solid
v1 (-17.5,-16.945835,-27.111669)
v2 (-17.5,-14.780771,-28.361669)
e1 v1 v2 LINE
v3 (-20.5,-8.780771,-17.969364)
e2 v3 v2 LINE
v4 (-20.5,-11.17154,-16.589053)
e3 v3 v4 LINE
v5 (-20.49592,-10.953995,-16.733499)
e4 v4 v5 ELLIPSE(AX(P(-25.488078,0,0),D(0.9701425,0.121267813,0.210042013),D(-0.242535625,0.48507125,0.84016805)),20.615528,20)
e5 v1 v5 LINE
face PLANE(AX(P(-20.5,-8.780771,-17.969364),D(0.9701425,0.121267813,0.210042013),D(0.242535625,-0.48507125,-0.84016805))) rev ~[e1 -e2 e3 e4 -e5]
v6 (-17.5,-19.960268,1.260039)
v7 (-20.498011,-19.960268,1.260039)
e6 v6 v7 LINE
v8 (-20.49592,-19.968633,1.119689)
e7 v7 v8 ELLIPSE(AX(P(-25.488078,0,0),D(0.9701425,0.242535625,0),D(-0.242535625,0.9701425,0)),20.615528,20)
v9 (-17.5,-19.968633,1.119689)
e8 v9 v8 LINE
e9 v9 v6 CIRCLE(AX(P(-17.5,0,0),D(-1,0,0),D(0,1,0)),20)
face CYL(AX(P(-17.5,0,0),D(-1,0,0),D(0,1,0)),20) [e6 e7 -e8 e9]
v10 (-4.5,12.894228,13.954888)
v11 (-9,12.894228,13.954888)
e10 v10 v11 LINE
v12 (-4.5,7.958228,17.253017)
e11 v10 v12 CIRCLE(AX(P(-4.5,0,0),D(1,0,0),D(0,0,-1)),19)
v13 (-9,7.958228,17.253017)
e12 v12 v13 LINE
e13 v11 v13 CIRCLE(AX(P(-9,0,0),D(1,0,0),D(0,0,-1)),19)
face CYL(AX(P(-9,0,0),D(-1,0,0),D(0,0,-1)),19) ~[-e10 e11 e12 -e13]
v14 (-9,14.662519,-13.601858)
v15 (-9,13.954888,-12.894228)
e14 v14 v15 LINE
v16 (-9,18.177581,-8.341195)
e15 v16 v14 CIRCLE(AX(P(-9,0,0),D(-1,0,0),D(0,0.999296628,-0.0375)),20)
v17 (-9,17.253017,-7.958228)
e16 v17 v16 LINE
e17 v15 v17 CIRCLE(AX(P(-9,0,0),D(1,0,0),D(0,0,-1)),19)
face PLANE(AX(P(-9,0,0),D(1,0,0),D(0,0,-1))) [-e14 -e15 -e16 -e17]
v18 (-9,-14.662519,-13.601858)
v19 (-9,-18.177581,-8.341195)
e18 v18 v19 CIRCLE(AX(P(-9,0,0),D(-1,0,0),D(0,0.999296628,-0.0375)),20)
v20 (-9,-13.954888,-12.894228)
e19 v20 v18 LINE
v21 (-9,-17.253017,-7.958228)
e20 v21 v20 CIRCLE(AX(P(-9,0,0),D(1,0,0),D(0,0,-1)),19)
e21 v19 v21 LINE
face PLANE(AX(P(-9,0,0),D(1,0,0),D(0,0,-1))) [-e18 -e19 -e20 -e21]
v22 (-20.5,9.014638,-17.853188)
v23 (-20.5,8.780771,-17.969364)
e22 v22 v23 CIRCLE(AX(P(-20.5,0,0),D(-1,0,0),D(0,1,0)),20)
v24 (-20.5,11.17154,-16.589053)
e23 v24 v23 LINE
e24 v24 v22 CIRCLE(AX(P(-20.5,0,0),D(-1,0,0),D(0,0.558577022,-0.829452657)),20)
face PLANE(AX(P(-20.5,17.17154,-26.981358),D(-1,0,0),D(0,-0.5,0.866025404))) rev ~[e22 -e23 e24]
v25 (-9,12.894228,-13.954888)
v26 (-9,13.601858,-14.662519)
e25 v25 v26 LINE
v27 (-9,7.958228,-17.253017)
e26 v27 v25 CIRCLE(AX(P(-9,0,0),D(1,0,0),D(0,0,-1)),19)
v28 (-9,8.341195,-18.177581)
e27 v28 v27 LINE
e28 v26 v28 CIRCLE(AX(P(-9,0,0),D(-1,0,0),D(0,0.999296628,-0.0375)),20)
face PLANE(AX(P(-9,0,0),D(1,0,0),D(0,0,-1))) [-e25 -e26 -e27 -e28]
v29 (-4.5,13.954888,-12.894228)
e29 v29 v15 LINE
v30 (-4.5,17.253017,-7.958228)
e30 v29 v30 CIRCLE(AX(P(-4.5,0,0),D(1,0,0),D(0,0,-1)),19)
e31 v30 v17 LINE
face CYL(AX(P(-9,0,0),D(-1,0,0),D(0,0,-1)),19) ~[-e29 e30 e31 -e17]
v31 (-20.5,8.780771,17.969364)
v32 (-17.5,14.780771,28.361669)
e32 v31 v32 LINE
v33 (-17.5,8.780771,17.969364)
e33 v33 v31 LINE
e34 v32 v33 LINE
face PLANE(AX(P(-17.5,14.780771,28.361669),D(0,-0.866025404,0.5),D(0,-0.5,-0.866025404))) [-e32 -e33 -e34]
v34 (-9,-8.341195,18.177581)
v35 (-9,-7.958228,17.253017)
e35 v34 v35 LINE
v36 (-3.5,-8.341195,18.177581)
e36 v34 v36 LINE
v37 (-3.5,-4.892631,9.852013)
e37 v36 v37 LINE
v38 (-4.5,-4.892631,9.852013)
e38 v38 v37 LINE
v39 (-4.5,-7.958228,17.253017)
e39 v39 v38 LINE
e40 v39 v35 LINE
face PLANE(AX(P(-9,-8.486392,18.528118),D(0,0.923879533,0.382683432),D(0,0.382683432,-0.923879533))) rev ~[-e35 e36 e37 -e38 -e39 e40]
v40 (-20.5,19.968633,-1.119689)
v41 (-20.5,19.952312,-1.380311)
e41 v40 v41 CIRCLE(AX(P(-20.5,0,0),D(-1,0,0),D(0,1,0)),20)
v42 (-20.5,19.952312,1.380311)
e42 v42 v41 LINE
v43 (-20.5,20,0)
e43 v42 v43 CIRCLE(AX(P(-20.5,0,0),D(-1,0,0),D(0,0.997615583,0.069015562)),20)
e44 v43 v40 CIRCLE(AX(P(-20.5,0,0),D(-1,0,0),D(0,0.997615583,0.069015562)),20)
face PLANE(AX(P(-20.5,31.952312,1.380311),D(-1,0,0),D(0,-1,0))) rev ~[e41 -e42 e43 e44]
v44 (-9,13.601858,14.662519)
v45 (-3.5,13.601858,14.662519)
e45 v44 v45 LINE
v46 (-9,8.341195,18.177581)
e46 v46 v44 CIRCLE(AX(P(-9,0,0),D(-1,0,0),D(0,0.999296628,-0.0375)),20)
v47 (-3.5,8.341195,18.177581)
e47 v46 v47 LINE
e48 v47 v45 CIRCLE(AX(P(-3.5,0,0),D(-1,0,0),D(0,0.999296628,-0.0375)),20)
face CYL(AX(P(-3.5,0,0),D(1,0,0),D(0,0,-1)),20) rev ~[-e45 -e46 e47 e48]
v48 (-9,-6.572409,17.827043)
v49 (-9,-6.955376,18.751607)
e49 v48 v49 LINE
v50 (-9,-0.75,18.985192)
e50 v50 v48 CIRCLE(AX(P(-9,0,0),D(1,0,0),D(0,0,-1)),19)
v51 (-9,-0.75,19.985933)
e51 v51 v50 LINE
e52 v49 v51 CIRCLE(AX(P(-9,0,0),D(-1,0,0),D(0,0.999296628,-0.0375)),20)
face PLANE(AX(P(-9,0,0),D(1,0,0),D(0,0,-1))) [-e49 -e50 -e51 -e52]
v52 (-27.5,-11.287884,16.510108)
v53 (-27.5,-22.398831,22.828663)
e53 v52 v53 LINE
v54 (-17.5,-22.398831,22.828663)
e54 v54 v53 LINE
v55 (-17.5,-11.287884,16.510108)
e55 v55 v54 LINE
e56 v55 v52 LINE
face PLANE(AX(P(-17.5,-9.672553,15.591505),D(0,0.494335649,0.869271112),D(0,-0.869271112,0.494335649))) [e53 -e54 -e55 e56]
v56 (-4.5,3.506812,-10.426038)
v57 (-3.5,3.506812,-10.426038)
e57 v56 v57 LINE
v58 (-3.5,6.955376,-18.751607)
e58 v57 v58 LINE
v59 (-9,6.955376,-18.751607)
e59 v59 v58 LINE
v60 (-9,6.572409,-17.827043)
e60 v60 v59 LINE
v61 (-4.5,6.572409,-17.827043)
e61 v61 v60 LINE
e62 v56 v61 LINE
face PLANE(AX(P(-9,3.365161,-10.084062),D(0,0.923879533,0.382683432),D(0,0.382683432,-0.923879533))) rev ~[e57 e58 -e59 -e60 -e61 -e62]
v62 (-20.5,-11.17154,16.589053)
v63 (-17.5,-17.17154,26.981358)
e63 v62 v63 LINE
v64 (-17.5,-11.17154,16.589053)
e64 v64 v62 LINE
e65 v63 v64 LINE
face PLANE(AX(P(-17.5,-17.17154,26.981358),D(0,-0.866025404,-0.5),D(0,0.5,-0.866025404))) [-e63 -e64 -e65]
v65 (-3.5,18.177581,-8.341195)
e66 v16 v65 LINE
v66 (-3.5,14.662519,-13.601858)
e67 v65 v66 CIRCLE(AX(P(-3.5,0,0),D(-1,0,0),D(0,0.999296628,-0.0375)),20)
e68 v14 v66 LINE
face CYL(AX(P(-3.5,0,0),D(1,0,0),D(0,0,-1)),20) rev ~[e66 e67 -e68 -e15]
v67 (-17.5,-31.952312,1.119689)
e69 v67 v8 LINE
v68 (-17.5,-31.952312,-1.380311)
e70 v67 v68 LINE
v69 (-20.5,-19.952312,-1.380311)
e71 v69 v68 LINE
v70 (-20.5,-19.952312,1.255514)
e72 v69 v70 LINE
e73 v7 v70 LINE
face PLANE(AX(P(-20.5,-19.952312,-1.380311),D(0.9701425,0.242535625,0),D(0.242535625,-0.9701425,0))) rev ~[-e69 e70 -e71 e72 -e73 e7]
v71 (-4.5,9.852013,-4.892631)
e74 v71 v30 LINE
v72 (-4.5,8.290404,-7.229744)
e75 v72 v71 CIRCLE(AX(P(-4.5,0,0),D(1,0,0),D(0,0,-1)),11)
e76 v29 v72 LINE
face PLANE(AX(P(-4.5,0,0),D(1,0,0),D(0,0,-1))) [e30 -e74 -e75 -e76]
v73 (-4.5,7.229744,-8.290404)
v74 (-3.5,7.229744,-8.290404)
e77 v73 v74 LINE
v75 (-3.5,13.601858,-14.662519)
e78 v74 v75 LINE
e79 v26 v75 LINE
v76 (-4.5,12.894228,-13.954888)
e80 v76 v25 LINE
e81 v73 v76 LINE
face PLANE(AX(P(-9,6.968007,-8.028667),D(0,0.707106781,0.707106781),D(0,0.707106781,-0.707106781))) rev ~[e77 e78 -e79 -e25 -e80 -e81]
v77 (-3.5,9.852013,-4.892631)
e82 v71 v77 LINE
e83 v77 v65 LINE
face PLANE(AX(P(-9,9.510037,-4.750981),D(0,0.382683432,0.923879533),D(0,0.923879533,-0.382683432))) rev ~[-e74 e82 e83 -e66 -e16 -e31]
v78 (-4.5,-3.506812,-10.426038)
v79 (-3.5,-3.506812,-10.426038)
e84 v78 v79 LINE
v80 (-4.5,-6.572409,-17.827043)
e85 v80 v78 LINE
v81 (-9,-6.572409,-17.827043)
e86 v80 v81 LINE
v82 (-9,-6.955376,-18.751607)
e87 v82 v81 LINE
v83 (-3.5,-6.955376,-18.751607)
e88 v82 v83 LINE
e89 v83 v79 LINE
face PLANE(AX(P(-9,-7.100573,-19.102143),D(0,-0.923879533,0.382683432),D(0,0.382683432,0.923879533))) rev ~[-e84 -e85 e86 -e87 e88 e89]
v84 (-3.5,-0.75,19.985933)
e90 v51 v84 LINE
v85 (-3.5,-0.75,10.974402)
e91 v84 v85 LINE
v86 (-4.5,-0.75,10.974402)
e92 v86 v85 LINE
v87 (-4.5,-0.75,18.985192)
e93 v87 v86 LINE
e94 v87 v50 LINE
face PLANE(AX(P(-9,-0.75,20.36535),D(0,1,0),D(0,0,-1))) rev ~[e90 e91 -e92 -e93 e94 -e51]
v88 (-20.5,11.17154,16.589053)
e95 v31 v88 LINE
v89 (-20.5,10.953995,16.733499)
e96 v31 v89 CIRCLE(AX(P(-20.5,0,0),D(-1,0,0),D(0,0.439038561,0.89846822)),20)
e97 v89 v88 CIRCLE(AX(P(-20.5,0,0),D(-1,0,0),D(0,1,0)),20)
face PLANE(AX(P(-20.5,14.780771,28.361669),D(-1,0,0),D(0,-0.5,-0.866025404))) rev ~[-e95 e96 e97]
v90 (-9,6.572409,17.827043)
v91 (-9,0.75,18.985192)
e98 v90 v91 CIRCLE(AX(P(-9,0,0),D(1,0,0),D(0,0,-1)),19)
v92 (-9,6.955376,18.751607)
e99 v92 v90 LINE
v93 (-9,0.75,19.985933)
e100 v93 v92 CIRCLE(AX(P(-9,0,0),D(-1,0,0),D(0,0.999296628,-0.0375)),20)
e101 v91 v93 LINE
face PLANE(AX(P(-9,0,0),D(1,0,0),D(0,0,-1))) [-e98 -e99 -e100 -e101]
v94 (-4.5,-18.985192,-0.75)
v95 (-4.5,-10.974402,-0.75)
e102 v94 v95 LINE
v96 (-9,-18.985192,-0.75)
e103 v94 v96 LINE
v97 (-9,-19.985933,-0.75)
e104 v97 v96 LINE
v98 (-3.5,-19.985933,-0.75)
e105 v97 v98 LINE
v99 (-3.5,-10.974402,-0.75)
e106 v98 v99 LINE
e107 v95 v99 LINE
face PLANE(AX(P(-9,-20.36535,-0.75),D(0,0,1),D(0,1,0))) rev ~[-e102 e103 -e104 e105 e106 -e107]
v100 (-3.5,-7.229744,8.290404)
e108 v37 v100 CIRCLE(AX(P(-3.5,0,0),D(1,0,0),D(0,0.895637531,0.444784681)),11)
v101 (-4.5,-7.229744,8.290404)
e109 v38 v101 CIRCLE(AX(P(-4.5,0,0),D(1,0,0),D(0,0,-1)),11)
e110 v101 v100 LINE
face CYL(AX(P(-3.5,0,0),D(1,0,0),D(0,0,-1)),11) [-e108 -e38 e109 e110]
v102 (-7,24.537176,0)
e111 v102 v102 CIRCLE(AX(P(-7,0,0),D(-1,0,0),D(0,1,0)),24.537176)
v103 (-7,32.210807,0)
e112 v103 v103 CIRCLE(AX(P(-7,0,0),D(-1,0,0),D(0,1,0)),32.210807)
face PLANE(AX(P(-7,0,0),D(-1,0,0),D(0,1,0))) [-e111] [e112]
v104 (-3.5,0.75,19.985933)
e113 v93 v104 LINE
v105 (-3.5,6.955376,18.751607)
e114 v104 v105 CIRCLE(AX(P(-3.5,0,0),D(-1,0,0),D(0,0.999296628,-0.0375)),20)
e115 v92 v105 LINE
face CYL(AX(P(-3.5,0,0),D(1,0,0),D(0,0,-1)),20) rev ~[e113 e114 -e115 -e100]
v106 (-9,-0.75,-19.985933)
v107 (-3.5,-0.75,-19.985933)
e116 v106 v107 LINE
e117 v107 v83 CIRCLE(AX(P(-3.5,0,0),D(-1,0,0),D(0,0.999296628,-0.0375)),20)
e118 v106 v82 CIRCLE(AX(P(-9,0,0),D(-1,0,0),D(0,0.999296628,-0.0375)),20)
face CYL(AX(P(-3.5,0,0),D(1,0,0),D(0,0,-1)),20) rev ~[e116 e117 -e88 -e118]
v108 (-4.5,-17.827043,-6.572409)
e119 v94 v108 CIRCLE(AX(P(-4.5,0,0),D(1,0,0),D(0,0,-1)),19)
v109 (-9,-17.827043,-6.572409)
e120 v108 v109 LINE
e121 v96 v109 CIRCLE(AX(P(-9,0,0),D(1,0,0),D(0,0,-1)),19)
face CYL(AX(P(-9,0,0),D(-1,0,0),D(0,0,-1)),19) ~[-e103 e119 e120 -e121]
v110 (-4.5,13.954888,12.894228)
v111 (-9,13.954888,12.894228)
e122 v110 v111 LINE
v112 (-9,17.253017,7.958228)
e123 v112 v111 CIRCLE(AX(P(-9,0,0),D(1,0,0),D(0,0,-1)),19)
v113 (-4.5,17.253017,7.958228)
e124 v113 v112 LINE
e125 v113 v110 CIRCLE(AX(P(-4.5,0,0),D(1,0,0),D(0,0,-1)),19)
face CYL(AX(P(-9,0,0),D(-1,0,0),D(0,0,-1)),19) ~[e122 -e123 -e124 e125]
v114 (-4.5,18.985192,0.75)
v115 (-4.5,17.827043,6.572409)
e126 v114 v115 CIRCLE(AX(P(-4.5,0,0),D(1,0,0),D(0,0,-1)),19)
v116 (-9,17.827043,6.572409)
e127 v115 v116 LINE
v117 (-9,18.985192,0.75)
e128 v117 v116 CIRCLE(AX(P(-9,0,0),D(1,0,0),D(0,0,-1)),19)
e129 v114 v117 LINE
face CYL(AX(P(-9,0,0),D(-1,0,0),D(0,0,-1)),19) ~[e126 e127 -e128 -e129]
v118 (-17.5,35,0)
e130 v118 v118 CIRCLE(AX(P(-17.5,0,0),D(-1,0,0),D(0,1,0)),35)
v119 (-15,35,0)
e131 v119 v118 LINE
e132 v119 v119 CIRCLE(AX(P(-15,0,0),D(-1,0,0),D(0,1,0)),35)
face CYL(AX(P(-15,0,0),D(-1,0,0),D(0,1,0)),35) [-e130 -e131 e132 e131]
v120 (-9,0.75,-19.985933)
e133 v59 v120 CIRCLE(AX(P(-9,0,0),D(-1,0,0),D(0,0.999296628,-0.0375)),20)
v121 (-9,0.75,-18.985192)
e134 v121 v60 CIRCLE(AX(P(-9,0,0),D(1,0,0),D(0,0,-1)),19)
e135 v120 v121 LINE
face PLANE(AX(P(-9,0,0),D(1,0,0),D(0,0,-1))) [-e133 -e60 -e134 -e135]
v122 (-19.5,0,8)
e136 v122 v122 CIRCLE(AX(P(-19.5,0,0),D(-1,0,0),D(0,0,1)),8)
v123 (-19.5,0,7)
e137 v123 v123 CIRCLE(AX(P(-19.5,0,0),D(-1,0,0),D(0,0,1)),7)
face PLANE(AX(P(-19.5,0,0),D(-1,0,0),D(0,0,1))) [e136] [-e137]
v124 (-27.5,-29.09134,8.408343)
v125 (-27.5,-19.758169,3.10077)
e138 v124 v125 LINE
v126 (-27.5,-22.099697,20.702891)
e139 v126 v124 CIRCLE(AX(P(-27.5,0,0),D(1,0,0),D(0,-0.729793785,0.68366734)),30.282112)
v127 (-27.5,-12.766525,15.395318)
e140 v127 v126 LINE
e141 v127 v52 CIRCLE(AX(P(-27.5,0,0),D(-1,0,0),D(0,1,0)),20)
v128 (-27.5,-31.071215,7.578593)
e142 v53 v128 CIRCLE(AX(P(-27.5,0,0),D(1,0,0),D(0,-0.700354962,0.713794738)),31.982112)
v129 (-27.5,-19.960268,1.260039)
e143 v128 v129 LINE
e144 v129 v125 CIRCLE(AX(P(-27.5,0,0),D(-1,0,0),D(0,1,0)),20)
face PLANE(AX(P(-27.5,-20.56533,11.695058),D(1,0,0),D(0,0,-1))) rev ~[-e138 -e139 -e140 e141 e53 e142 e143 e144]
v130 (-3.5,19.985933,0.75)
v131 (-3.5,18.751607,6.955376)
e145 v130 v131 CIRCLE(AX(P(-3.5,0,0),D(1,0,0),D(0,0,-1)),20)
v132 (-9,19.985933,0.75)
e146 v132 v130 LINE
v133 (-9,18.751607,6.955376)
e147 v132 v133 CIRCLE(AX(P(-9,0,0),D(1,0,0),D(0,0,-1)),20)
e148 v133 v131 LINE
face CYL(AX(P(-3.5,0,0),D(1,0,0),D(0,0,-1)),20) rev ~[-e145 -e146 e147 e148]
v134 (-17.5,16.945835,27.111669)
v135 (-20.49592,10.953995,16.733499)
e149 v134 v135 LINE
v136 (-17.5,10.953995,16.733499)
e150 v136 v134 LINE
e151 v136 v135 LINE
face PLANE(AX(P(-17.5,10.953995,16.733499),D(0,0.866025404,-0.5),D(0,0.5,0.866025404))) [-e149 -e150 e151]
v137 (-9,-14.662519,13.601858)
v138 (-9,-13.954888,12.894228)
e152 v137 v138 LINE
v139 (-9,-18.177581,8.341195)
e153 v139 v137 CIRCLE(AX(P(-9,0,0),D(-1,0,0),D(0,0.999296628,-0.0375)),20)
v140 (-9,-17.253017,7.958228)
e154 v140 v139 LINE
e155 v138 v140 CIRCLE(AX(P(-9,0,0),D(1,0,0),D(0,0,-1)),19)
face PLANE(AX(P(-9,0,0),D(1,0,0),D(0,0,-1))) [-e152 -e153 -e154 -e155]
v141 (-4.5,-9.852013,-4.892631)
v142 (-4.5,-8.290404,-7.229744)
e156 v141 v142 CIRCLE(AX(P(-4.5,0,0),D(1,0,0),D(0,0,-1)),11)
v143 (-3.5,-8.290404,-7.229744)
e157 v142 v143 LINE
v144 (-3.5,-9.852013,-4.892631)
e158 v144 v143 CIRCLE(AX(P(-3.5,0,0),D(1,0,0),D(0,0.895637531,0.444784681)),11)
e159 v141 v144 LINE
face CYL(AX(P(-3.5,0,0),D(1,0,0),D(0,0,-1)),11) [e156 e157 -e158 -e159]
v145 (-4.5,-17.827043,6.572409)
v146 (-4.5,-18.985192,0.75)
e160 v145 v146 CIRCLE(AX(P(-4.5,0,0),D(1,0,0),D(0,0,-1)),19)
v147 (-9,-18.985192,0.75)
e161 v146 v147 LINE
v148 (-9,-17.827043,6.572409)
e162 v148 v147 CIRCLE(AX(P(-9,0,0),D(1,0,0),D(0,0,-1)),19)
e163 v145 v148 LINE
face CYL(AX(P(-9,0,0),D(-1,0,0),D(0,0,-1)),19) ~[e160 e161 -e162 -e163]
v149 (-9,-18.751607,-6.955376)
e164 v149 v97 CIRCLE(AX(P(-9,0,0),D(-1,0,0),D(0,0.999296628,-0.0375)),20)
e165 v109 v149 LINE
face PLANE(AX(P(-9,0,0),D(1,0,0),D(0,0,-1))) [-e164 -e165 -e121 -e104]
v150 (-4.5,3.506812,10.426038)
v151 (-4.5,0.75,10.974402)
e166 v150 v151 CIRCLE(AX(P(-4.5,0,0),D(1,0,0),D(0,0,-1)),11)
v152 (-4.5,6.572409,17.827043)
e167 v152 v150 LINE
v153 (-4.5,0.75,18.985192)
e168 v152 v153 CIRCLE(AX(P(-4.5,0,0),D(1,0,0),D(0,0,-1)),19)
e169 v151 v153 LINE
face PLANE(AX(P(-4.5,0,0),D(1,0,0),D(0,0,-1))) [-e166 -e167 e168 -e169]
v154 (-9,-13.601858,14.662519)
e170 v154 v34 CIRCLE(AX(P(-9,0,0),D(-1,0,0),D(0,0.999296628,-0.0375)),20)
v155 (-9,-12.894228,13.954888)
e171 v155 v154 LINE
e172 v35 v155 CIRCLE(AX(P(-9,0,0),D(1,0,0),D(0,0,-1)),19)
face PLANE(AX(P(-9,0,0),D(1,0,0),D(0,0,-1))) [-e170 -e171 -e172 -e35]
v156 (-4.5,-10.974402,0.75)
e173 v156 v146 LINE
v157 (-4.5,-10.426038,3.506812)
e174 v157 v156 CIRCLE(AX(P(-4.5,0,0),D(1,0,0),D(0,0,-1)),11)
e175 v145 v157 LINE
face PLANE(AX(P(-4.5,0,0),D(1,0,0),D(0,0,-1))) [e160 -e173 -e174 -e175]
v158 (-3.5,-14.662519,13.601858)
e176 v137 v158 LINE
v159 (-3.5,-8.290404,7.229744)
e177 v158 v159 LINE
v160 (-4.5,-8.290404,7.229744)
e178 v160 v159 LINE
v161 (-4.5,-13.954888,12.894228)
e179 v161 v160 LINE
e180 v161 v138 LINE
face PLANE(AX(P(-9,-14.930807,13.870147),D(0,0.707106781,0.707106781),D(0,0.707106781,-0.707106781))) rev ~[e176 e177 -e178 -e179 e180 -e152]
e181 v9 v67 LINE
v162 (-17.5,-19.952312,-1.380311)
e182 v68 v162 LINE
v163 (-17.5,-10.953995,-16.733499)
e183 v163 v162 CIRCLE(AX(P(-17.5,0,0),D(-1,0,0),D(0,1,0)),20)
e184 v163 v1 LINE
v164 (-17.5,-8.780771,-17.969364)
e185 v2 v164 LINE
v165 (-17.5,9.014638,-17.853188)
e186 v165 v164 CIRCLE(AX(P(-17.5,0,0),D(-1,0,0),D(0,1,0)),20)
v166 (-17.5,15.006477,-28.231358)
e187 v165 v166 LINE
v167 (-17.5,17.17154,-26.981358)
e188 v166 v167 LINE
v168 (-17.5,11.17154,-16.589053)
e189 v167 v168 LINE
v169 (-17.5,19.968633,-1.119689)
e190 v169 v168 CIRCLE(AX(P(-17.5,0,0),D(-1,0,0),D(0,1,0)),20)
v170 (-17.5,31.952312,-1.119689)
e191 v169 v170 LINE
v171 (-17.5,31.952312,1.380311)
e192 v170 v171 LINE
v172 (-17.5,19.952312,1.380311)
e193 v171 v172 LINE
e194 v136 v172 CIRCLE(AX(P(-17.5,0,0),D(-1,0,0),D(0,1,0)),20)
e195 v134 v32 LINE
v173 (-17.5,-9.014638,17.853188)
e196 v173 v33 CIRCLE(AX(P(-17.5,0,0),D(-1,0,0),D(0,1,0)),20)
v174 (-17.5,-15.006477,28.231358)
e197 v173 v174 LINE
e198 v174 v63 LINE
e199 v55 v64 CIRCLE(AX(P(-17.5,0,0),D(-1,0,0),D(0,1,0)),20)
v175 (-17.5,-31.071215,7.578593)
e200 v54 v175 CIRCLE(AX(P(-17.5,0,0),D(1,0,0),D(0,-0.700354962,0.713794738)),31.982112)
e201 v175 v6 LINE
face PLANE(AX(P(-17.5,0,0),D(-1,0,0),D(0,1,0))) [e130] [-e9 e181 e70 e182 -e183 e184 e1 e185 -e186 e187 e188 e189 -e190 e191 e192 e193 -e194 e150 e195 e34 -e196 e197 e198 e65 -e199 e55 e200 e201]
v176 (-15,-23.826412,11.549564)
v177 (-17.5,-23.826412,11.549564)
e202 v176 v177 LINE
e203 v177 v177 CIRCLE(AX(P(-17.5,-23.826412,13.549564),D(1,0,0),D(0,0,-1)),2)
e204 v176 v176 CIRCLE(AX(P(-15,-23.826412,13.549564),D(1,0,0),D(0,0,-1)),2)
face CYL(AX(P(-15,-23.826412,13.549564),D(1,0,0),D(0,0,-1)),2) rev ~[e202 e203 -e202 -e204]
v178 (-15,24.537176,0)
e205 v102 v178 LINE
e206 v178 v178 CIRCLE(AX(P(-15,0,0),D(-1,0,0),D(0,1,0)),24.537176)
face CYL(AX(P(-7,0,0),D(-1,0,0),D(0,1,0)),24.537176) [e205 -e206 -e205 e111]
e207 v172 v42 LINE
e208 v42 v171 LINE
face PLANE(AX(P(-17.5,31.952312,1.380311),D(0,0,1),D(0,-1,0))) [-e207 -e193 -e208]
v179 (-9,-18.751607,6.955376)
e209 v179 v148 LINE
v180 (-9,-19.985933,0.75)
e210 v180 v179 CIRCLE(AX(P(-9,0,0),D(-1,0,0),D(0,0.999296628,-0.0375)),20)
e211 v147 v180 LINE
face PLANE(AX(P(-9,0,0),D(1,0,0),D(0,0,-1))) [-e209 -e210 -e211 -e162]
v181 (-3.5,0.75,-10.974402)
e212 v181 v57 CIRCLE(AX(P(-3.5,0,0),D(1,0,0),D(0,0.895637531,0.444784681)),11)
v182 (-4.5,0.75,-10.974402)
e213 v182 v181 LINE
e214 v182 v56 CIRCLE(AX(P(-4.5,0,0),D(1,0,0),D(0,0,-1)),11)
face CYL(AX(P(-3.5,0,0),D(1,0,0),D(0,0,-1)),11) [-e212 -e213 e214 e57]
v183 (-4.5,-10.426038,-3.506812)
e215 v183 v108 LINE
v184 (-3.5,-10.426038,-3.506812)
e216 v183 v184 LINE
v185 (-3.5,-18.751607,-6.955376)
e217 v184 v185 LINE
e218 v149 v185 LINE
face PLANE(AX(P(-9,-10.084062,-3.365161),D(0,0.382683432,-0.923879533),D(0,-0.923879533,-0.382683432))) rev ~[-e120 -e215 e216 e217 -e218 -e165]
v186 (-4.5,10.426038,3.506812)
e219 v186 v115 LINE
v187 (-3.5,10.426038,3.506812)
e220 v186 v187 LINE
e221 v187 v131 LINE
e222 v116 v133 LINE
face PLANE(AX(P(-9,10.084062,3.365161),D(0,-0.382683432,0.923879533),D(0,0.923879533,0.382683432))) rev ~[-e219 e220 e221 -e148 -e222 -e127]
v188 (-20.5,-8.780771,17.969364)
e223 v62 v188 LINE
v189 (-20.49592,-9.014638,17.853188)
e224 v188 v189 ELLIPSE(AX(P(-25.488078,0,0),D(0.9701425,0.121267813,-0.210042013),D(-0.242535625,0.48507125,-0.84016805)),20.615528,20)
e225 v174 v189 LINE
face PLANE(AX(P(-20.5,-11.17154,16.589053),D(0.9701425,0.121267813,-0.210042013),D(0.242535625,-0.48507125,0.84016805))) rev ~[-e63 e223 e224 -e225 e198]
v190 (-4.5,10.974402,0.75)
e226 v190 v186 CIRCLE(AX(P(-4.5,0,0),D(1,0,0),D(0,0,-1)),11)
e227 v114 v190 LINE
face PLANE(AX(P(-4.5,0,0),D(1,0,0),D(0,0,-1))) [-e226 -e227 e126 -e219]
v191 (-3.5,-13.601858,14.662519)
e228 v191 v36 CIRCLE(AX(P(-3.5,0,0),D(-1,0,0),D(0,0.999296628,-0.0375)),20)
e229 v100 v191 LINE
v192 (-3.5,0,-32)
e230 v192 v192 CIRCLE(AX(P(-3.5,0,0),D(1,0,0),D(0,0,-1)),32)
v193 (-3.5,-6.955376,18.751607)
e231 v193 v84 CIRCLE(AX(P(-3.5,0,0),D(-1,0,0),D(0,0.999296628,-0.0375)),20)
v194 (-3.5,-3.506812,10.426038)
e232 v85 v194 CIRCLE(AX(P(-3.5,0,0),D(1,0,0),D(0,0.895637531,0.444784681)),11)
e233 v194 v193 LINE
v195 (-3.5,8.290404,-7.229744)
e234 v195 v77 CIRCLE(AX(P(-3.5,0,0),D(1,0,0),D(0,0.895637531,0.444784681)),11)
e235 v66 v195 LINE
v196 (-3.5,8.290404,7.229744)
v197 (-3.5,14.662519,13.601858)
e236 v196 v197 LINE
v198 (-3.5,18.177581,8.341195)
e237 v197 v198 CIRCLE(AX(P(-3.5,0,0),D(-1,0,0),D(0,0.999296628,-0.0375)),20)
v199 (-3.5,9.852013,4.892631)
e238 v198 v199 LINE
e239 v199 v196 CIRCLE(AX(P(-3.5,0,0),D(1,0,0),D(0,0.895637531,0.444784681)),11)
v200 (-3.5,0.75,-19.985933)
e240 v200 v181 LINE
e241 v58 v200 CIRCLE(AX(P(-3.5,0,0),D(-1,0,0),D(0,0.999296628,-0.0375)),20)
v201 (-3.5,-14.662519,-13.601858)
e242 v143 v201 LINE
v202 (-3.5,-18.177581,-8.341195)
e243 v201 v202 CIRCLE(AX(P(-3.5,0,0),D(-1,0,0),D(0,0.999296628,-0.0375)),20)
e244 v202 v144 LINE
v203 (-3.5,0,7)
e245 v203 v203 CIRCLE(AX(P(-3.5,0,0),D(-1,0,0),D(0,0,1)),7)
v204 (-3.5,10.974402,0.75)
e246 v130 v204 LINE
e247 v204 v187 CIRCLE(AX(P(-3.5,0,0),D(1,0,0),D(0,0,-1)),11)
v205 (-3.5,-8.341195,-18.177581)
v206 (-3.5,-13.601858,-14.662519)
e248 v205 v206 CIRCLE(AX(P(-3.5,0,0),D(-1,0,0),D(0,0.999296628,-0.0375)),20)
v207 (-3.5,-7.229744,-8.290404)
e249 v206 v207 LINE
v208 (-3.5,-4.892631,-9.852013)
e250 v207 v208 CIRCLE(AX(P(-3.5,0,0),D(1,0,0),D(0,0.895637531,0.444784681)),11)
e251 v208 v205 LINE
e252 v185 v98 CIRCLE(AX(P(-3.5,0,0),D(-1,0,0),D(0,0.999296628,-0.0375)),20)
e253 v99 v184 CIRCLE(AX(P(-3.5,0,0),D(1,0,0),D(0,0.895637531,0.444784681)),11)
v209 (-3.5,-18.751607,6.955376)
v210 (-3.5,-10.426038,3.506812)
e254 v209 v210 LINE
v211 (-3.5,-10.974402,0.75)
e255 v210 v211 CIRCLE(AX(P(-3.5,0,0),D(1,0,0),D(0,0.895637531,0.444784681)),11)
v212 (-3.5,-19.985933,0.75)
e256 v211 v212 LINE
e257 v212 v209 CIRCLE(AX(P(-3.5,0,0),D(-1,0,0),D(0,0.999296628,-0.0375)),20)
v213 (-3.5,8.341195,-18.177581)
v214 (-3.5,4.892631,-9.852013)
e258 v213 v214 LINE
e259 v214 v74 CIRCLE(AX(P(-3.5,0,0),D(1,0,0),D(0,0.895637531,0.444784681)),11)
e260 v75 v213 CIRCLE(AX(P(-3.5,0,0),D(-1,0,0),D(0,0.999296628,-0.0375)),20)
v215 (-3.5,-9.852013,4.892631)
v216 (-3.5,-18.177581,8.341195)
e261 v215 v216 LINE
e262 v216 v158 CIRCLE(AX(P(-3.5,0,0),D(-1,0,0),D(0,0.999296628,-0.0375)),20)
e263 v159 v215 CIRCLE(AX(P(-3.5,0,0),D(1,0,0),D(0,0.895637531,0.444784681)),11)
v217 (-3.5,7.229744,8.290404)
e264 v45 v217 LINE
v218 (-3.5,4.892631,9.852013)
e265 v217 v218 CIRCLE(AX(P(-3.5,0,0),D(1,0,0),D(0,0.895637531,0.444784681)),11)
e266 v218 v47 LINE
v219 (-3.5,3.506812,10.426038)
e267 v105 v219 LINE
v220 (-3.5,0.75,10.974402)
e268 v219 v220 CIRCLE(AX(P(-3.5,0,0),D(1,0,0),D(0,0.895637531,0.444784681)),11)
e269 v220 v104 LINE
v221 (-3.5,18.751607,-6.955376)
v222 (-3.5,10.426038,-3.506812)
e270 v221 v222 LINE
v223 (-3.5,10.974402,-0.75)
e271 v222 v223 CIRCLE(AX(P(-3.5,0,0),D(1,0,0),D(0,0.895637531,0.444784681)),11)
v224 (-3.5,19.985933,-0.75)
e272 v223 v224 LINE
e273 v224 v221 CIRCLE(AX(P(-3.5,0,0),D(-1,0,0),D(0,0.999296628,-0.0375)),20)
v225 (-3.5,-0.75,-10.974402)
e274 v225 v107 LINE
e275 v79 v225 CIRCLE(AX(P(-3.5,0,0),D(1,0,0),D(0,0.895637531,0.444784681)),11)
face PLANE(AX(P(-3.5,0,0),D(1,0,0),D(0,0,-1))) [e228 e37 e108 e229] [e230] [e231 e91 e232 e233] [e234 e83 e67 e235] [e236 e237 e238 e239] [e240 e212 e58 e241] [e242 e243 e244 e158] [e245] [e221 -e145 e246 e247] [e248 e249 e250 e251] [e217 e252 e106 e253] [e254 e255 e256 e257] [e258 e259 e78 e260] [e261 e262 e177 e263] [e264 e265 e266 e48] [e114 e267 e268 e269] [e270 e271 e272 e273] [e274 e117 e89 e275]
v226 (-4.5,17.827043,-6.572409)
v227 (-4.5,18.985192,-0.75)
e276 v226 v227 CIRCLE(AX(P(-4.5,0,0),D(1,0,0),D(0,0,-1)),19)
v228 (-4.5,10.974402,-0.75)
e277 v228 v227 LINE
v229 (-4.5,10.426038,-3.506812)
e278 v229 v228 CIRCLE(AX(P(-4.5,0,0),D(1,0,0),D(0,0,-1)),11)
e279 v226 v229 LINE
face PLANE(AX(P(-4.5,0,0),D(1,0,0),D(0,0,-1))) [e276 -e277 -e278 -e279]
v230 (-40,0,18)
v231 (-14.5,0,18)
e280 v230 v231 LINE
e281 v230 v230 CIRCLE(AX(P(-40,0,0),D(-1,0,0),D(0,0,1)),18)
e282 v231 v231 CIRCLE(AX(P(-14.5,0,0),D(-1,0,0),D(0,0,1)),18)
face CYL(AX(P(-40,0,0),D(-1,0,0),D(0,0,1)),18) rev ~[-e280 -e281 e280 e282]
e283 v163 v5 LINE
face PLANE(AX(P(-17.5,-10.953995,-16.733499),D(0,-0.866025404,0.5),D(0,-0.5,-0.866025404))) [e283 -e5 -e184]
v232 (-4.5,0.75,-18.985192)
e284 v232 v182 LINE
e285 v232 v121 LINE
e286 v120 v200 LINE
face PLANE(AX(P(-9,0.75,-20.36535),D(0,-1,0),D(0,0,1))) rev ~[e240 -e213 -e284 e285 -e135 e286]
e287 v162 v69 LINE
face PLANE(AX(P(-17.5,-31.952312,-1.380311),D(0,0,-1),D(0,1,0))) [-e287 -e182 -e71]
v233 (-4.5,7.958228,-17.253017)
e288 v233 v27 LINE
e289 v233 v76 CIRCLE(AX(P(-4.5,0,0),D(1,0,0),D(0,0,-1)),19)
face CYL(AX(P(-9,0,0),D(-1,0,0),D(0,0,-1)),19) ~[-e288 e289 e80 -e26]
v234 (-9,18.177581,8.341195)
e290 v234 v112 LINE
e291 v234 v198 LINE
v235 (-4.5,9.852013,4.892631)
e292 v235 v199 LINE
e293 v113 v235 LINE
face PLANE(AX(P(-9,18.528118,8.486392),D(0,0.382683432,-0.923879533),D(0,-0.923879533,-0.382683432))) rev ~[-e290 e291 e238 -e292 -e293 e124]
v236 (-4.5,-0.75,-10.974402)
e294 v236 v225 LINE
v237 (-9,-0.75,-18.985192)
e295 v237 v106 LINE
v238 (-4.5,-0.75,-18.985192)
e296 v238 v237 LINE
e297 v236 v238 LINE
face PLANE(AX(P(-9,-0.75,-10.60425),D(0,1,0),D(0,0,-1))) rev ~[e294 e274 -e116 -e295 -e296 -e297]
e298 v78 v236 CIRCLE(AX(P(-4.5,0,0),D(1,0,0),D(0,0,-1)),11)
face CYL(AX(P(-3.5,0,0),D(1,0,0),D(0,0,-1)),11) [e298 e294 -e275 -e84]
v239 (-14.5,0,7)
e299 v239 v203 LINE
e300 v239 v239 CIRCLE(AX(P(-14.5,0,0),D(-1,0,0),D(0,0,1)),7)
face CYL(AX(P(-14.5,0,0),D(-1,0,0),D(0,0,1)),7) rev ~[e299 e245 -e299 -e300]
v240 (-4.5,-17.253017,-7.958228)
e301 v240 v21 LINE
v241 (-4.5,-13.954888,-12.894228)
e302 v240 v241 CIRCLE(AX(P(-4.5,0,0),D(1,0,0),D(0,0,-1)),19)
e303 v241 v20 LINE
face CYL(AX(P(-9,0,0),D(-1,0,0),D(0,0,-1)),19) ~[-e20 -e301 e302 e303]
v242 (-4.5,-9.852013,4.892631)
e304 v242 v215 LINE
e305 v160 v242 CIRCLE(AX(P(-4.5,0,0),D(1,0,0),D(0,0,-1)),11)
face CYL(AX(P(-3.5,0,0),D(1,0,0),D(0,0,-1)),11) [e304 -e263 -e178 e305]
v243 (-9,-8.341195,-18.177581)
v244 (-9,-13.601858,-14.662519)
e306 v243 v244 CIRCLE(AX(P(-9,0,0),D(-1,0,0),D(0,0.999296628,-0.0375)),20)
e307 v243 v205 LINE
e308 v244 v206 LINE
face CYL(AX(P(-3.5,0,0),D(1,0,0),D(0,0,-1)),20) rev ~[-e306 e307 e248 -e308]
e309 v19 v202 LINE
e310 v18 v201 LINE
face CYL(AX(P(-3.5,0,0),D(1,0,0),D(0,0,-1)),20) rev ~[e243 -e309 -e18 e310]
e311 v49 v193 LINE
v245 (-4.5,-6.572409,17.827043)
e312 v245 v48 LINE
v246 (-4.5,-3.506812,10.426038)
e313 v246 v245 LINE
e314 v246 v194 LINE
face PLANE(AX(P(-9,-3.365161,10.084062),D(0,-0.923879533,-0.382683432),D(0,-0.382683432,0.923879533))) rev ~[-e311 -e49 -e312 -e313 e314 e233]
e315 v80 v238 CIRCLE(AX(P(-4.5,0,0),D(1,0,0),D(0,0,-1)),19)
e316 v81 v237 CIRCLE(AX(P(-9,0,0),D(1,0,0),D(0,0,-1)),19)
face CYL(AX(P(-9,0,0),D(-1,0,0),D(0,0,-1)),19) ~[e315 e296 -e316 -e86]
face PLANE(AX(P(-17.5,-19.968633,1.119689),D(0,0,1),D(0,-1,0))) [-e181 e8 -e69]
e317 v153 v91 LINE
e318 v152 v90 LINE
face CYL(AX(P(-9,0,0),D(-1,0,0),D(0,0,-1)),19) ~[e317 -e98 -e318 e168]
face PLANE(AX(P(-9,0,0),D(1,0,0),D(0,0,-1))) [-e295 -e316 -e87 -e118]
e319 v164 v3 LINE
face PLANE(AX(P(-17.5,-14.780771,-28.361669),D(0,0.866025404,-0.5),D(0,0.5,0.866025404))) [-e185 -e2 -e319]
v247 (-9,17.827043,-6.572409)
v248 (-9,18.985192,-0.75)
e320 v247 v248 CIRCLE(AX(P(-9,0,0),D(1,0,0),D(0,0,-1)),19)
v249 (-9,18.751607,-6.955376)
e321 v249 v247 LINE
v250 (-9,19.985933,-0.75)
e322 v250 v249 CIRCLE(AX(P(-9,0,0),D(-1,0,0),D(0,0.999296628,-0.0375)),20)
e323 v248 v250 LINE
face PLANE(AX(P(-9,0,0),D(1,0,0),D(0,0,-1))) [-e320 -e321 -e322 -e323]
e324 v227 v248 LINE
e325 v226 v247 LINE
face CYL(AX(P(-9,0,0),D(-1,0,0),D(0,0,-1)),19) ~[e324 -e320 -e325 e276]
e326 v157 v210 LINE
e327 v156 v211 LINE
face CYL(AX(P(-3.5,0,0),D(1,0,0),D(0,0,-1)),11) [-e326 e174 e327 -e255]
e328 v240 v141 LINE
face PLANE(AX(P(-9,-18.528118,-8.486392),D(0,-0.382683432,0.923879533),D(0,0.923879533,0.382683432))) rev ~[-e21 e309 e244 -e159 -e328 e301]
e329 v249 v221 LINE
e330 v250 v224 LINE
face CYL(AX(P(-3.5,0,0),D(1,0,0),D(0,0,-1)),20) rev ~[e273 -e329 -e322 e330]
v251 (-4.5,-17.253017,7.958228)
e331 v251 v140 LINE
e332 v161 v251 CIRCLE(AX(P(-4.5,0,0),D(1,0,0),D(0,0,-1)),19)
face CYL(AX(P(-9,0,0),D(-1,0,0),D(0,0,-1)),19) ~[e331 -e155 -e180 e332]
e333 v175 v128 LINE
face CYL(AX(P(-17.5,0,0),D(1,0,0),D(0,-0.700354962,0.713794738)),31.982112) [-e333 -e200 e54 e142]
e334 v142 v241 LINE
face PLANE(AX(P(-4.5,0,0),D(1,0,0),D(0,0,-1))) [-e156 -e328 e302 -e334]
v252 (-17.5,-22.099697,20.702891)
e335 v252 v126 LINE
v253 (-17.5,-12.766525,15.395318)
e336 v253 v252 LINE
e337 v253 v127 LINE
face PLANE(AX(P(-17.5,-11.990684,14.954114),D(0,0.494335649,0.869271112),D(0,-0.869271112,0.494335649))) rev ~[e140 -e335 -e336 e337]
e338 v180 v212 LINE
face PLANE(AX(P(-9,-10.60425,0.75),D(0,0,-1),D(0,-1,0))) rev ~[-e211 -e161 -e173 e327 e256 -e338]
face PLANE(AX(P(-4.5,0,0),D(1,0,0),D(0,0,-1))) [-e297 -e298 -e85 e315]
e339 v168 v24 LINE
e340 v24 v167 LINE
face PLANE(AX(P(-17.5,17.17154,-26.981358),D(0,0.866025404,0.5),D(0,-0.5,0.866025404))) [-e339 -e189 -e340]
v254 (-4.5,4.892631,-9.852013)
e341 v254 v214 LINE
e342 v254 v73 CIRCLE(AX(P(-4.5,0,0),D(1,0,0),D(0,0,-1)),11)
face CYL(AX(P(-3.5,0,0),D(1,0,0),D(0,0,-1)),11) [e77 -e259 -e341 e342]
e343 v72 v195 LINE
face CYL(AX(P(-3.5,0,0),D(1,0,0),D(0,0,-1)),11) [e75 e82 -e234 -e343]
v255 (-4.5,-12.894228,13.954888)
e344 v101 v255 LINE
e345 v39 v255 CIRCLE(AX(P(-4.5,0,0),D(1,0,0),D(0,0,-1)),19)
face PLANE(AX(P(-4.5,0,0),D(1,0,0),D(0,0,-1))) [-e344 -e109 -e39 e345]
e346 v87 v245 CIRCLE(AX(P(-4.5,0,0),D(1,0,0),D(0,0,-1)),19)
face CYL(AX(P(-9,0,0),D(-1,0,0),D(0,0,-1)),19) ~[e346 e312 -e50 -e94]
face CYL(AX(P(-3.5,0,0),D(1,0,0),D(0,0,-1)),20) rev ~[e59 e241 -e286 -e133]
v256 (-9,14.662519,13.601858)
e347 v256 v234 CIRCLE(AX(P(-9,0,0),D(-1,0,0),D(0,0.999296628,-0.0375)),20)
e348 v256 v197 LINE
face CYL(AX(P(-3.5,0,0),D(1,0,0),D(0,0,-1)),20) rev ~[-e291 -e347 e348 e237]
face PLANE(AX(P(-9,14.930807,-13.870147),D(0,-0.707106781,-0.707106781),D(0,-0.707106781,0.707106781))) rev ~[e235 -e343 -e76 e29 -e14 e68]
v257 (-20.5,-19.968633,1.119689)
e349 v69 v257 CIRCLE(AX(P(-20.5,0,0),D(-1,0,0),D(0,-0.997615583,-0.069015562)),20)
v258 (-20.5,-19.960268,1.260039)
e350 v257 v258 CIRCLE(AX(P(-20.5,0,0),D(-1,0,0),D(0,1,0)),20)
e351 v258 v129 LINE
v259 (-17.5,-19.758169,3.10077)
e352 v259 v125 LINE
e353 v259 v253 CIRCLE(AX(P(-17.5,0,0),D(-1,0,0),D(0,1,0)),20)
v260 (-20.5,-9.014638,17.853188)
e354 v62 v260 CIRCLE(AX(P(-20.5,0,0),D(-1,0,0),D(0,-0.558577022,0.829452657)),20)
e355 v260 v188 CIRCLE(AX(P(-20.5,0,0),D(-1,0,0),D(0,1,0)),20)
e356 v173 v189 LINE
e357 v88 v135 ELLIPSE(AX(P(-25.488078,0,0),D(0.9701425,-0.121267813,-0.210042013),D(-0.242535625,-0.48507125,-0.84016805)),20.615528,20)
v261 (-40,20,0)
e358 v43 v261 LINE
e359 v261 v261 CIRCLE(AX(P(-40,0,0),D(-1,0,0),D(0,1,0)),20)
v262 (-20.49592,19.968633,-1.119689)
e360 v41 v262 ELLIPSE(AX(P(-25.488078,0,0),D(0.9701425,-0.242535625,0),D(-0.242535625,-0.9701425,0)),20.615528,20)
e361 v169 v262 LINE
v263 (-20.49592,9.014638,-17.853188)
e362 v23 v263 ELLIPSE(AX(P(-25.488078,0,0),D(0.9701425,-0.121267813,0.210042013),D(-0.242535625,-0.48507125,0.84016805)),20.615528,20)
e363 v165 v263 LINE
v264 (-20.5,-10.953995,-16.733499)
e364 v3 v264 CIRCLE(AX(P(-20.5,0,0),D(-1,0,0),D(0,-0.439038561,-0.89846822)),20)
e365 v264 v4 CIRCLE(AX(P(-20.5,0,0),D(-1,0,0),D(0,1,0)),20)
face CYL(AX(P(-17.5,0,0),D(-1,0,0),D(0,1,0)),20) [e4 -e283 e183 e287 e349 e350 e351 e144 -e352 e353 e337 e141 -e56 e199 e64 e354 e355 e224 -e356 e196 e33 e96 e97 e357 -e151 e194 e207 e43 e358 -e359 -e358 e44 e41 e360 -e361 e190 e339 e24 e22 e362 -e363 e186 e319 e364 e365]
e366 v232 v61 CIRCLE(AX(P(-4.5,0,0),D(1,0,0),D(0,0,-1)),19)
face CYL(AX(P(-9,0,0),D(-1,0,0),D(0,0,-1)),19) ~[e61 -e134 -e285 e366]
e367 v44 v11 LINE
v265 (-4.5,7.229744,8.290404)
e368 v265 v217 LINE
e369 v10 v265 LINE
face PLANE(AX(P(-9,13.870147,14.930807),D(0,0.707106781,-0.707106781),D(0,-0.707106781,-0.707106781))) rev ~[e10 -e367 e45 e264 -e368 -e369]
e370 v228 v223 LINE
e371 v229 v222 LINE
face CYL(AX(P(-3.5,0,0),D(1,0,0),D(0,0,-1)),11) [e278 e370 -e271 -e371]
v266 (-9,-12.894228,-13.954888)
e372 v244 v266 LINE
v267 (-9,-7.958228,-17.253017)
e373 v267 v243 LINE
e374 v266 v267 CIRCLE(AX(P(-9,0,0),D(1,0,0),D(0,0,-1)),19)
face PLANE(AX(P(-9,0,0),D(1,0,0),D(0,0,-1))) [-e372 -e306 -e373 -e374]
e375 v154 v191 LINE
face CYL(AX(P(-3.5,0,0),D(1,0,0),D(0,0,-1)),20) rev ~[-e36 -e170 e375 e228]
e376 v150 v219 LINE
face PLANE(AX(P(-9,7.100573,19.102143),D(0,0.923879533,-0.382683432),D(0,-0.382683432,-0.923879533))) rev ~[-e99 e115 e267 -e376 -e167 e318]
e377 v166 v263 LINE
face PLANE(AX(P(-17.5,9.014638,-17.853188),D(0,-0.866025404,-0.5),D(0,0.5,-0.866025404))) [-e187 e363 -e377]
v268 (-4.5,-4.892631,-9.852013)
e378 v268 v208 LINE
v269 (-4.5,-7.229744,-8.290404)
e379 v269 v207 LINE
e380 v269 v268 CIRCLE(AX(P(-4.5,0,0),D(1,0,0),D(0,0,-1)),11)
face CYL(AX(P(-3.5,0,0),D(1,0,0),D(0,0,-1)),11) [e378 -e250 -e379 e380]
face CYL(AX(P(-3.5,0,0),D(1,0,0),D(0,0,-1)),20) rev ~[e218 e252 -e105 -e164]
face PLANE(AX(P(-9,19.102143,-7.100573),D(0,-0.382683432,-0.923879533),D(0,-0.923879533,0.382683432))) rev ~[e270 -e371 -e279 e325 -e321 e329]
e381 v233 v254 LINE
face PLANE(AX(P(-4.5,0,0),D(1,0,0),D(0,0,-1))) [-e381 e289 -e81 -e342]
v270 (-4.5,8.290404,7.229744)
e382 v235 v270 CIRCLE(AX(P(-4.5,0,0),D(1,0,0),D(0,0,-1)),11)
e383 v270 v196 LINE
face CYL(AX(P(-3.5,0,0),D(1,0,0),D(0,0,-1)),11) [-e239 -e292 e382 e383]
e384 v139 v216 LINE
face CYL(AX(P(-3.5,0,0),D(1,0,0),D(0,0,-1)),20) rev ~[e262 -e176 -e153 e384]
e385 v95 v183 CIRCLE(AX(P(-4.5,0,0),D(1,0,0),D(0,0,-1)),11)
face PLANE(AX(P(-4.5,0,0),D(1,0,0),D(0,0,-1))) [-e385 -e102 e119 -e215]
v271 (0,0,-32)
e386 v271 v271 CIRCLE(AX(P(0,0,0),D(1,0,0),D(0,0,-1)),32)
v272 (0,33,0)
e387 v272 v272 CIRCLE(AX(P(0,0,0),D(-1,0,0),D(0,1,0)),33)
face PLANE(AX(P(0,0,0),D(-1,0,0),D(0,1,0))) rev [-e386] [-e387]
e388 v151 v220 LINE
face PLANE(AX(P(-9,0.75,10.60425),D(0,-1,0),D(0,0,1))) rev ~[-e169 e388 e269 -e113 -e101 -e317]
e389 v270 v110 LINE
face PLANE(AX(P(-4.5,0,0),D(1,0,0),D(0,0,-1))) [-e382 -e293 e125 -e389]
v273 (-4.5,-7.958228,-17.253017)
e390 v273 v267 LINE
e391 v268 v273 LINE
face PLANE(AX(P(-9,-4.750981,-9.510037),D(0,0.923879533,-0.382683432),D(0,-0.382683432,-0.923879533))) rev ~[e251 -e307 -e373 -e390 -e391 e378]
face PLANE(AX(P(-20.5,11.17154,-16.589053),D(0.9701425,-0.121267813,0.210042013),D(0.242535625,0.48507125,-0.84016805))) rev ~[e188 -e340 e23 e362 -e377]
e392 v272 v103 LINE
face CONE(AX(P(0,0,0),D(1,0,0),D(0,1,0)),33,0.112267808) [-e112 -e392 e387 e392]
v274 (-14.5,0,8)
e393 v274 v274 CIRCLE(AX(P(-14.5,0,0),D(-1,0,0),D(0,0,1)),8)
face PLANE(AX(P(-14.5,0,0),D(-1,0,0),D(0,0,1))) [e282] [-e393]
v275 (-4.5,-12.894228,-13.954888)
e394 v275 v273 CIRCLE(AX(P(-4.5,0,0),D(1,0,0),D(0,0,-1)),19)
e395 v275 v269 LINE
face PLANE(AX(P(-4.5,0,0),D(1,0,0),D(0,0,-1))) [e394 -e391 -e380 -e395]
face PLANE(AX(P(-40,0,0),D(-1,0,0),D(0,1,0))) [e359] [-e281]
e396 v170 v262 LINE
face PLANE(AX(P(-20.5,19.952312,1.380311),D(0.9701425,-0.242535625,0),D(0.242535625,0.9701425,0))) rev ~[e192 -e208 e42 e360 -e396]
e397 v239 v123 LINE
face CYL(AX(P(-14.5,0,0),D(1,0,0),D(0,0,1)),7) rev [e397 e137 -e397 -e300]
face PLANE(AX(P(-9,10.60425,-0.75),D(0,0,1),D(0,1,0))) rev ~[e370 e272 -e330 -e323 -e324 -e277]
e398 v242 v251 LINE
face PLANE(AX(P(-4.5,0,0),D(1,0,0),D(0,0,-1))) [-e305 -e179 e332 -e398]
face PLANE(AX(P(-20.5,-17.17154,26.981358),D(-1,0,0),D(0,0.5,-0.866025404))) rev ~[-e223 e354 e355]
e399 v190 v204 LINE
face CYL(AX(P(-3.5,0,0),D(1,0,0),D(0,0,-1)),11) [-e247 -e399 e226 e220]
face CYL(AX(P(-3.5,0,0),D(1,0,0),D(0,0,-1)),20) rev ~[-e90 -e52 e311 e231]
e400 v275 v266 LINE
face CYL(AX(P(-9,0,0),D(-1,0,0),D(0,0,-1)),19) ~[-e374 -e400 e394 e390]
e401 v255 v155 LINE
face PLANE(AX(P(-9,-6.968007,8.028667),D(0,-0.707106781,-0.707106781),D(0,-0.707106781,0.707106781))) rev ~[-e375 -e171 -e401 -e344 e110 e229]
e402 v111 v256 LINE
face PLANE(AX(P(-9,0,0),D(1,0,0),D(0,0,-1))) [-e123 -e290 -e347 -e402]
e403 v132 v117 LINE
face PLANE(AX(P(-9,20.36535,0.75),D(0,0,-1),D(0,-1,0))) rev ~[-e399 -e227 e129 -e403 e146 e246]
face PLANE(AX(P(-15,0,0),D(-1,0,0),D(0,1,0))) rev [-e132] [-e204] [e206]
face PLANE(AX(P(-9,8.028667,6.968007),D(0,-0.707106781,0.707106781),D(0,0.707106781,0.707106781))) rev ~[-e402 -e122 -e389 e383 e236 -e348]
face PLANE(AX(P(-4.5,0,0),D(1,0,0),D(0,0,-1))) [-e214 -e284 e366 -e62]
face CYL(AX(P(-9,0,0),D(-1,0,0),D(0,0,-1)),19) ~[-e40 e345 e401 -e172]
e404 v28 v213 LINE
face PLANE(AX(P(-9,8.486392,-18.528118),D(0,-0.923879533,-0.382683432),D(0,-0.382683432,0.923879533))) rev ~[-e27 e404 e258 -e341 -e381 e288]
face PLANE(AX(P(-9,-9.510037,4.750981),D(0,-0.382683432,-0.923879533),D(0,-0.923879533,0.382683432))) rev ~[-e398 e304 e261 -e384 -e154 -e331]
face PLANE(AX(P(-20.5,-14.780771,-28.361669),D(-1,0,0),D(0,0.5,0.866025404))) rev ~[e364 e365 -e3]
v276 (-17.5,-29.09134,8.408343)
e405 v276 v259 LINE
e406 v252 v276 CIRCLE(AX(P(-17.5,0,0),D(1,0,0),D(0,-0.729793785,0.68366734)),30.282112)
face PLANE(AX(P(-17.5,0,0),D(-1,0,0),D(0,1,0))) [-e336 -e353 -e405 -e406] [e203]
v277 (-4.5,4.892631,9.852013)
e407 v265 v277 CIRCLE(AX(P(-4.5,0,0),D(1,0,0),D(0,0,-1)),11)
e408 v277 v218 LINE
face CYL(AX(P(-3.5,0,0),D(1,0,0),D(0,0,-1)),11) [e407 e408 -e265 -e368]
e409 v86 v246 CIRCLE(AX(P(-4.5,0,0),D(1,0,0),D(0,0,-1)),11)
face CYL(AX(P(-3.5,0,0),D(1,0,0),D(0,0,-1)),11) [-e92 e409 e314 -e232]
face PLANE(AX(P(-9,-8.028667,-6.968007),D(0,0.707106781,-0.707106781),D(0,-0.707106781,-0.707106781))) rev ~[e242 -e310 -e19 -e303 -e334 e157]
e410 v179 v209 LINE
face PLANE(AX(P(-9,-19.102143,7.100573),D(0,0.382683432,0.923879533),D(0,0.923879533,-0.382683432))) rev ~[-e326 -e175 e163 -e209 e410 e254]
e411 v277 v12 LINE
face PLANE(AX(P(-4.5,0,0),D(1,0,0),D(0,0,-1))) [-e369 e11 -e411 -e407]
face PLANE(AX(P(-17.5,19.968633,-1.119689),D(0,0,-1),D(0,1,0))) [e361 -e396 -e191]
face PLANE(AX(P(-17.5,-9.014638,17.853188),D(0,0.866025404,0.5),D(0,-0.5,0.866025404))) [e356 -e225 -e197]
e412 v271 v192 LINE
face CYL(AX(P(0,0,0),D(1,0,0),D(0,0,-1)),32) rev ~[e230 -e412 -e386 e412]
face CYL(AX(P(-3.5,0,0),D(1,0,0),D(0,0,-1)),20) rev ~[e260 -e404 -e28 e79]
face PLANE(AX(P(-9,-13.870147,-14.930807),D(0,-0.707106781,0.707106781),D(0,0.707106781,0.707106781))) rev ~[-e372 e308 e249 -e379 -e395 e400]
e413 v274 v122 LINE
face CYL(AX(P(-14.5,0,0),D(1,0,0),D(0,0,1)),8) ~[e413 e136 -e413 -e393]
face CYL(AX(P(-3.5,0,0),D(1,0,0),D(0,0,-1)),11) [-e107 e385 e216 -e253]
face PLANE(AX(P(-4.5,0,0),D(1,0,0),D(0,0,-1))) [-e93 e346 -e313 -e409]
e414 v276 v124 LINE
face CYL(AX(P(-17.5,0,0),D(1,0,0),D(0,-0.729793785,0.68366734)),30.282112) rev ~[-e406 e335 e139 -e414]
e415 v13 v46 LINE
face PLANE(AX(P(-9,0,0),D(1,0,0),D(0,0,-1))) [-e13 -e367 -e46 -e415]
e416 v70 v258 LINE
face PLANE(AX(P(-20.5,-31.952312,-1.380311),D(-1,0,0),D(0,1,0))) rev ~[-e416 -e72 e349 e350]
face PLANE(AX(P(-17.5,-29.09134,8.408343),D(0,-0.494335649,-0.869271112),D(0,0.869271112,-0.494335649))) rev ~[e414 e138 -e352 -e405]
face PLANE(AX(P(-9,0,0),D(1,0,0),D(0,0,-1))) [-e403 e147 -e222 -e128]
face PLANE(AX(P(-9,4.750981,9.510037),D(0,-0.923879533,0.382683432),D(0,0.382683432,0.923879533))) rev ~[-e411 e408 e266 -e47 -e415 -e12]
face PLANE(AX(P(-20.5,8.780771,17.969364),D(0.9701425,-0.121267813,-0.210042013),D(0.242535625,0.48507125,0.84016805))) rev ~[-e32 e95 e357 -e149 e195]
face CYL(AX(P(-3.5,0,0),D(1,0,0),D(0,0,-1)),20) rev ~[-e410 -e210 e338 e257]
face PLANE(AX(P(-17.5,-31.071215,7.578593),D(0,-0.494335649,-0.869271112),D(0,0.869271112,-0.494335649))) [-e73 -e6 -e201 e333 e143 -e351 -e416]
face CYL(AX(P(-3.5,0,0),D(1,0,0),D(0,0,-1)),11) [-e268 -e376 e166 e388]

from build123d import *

# Parameters (mm, degrees)
BOSS_EXTRUDE1_DEPTH = 3
CUT_EXTRUDE1_DEPTH  = 10
CIRPATTERN1_COUNT   = 6
BOSS_EXTRUDE2_DEPTH = 10
SKETCH6_R           = 32
CUT_EXTRUDE2_DEPTH  = 3.5
SKETCH7_R           = 20
SKETCH7_R_2         = 11
CUT_EXTRUDE4_DEPTH  = 5.5
BOSS_EXTRUDE3_DEPTH = 5.5
CIRPATTERN2_COUNT   = 16
SKETCH10_R          = 19
BOSS_EXTRUDE4_DEPTH = 4.5
SKETCH11_R          = 18
CUT_EXTRUDE5_DEPTH  = 25.5
SKETCH12_R          = 8
SKETCH12_R_2        = 7
BOSS_EXTRUDE5_DEPTH = 5
SKETCH13_R          = 7
CUT_EXTRUDE6_DEPTH  = 23
SKETCH14_R          = 2
CUT_EXTRUDE9_DEPTH  = 6


with BuildPart() as part:
    # Sketch2 → Revolve2 (revolve)
    with BuildSketch(Plane.XY):
        Polygon((0, 0), (0, 33), (-7, 32.210806874), (-7, 24.5371762), (-15, 24.5371762), (-15, 35), (-17.5, 35), (-17.5, 20), (-40, 20), (-40, 0), align=None)
    revolve(axis=Axis((0, 0, 0), (-1, 0, 0)))

    # Sketch3 → Boss-Extrude1 (add)
    with BuildSketch(Plane.ZY.offset(17.5)):
        with BuildLine():
            Line((-1.119688757, 19.96863283), (-1.119688757, 31.952311667))
            Line((-1.119688757, 31.952311667), (1.380311243, 31.952311667))
            Line((1.380311243, 31.952311667), (1.380311243, 19.952311667))
            ThreePointArc((1.380311243, 19.952311667), (0.130566516, 19.999573805), (-1.119688757, 19.96863283))
        make_face()
    boss_extrude1 = extrude(amount=BOSS_EXTRUDE1_DEPTH)

    # Sketch4 → Cut-Extrude1 (cut)
    with BuildSketch(Plane.XY.offset(1.380311243)):
        Polygon((-20.5, 19.952311667), (-17.5, 31.952311667), (-20.5, 31.952311667), align=None)
    cut_extrude1 = extrude(amount=-CUT_EXTRUDE1_DEPTH, mode=Mode.SUBTRACT)

    # CirPattern1: Boss-Extrude1, Cut-Extrude1 ×6 about axis
    cirpattern1_axis = Axis((0, 0, 0), (1, 0, 0))
    for i in range(1, CIRPATTERN1_COUNT):
        add(boss_extrude1.rotate(cirpattern1_axis, i * 360 / CIRPATTERN1_COUNT))
        add(cut_extrude1.rotate(cirpattern1_axis, i * 360 / CIRPATTERN1_COUNT), mode=Mode.SUBTRACT)

    # Sketch5 → Boss-Extrude2 (add)
    with BuildSketch(Plane.ZY.offset(17.5)):
        with BuildLine():
            Line((0.341434911, -18.344937093), (15.591504627, -9.672552828))
            Line((15.591504627, -9.672552828), (22.828663164, -22.398830732))
            ThreePointArc((22.828663164, -22.398830732), (15.809898035, -27.801125951), (7.578593448, -31.071214997))
            Line((7.578593448, -31.071214997), (0.341434911, -18.344937093))
        make_face()
        with BuildLine():
            Line((2.659566405, -18.98232738), (14.95411434, -11.990684322))
            Line((14.95411434, -11.990684322), (20.702890868, -22.099697042))
            ThreePointArc((20.702890868, -22.099697042), (14.969527432, -26.323365061), (8.408342933, -29.091340099))
            Line((8.408342933, -29.091340099), (2.659566405, -18.98232738))
        make_face(mode=Mode.SUBTRACT)
    extrude(amount=BOSS_EXTRUDE2_DEPTH)

    # Sketch6 → Cut-Extrude2 (cut)
    with BuildSketch(Plane(origin=(0, 0, 0), x_dir=(0, 0, -1), z_dir=(1, 0, 0))):
        Circle(SKETCH6_R)
    extrude(amount=-CUT_EXTRUDE2_DEPTH, mode=Mode.SUBTRACT)

    # Sketch7 → Cut-Extrude4 (cut)
    with BuildSketch(Plane(origin=(-3.5, 0, 0), x_dir=(0, 0, -1), z_dir=(1, 0, 0))):
        Circle(SKETCH7_R)
        Circle(SKETCH7_R_2, mode=Mode.SUBTRACT)
    extrude(amount=-CUT_EXTRUDE4_DEPTH, mode=Mode.SUBTRACT)

    # Sketch9 → Boss-Extrude3 (add)
    with BuildSketch(Plane(origin=(-9, 0, 0), x_dir=(0, 0, -1), z_dir=(1, 0, 0))):
        with BuildLine():
            Line((0.75, 10.60425024), (0.75, 20.365350298))
            ThreePointArc((0.75, 20.365350298), (0, 20.37915584), (-0.75, 20.365350298))
            Line((-0.75, 20.365350298), (-0.75, 10.60425024))
            ThreePointArc((-0.75, 10.60425024), (0, 10.630739539), (0.75, 10.60425024))
        make_face()
    boss_extrude3 = extrude(amount=BOSS_EXTRUDE3_DEPTH)

    # CirPattern2: Boss-Extrude3 ×16 about axis
    cirpattern2_axis = Axis((0, 0, 0), (1, 0, 0))
    for i in range(1, CIRPATTERN2_COUNT):
        add(boss_extrude3.rotate(cirpattern2_axis, i * 360 / CIRPATTERN2_COUNT))

    # Sketch10 → Boss-Extrude4 (add)
    with BuildSketch(Plane(origin=(-9, 0, 0), x_dir=(0, 0, -1), z_dir=(1, 0, 0))):
        Circle(SKETCH10_R)
    extrude(amount=BOSS_EXTRUDE4_DEPTH)

    # Sketch11 → Cut-Extrude5 (cut)
    with BuildSketch(Plane.ZY.offset(40)):
        Circle(SKETCH11_R)
    extrude(amount=-CUT_EXTRUDE5_DEPTH, mode=Mode.SUBTRACT)

    # Sketch12 → Boss-Extrude5 (add)
    with BuildSketch(Plane.ZY.offset(14.5)):
        Circle(SKETCH12_R)
        Circle(SKETCH12_R_2, mode=Mode.SUBTRACT)
    extrude(amount=BOSS_EXTRUDE5_DEPTH)

    # Sketch13 → Cut-Extrude6 (cut)
    with BuildSketch(Plane.ZY.offset(14.5)):
        Circle(SKETCH13_R)
    extrude(amount=-CUT_EXTRUDE6_DEPTH, mode=Mode.SUBTRACT)

    # Sketch14 → Cut-Extrude9 (cut)
    with BuildSketch(Plane(origin=(-15, 0, 0), x_dir=(0, 0, -1), z_dir=(1, 0, 0))):
        with Locations((-13.549564178, -23.82641175)):
            Circle(SKETCH14_R)
    extrude(amount=-CUT_EXTRUDE9_DEPTH, mode=Mode.SUBTRACT)


solid = part.part
